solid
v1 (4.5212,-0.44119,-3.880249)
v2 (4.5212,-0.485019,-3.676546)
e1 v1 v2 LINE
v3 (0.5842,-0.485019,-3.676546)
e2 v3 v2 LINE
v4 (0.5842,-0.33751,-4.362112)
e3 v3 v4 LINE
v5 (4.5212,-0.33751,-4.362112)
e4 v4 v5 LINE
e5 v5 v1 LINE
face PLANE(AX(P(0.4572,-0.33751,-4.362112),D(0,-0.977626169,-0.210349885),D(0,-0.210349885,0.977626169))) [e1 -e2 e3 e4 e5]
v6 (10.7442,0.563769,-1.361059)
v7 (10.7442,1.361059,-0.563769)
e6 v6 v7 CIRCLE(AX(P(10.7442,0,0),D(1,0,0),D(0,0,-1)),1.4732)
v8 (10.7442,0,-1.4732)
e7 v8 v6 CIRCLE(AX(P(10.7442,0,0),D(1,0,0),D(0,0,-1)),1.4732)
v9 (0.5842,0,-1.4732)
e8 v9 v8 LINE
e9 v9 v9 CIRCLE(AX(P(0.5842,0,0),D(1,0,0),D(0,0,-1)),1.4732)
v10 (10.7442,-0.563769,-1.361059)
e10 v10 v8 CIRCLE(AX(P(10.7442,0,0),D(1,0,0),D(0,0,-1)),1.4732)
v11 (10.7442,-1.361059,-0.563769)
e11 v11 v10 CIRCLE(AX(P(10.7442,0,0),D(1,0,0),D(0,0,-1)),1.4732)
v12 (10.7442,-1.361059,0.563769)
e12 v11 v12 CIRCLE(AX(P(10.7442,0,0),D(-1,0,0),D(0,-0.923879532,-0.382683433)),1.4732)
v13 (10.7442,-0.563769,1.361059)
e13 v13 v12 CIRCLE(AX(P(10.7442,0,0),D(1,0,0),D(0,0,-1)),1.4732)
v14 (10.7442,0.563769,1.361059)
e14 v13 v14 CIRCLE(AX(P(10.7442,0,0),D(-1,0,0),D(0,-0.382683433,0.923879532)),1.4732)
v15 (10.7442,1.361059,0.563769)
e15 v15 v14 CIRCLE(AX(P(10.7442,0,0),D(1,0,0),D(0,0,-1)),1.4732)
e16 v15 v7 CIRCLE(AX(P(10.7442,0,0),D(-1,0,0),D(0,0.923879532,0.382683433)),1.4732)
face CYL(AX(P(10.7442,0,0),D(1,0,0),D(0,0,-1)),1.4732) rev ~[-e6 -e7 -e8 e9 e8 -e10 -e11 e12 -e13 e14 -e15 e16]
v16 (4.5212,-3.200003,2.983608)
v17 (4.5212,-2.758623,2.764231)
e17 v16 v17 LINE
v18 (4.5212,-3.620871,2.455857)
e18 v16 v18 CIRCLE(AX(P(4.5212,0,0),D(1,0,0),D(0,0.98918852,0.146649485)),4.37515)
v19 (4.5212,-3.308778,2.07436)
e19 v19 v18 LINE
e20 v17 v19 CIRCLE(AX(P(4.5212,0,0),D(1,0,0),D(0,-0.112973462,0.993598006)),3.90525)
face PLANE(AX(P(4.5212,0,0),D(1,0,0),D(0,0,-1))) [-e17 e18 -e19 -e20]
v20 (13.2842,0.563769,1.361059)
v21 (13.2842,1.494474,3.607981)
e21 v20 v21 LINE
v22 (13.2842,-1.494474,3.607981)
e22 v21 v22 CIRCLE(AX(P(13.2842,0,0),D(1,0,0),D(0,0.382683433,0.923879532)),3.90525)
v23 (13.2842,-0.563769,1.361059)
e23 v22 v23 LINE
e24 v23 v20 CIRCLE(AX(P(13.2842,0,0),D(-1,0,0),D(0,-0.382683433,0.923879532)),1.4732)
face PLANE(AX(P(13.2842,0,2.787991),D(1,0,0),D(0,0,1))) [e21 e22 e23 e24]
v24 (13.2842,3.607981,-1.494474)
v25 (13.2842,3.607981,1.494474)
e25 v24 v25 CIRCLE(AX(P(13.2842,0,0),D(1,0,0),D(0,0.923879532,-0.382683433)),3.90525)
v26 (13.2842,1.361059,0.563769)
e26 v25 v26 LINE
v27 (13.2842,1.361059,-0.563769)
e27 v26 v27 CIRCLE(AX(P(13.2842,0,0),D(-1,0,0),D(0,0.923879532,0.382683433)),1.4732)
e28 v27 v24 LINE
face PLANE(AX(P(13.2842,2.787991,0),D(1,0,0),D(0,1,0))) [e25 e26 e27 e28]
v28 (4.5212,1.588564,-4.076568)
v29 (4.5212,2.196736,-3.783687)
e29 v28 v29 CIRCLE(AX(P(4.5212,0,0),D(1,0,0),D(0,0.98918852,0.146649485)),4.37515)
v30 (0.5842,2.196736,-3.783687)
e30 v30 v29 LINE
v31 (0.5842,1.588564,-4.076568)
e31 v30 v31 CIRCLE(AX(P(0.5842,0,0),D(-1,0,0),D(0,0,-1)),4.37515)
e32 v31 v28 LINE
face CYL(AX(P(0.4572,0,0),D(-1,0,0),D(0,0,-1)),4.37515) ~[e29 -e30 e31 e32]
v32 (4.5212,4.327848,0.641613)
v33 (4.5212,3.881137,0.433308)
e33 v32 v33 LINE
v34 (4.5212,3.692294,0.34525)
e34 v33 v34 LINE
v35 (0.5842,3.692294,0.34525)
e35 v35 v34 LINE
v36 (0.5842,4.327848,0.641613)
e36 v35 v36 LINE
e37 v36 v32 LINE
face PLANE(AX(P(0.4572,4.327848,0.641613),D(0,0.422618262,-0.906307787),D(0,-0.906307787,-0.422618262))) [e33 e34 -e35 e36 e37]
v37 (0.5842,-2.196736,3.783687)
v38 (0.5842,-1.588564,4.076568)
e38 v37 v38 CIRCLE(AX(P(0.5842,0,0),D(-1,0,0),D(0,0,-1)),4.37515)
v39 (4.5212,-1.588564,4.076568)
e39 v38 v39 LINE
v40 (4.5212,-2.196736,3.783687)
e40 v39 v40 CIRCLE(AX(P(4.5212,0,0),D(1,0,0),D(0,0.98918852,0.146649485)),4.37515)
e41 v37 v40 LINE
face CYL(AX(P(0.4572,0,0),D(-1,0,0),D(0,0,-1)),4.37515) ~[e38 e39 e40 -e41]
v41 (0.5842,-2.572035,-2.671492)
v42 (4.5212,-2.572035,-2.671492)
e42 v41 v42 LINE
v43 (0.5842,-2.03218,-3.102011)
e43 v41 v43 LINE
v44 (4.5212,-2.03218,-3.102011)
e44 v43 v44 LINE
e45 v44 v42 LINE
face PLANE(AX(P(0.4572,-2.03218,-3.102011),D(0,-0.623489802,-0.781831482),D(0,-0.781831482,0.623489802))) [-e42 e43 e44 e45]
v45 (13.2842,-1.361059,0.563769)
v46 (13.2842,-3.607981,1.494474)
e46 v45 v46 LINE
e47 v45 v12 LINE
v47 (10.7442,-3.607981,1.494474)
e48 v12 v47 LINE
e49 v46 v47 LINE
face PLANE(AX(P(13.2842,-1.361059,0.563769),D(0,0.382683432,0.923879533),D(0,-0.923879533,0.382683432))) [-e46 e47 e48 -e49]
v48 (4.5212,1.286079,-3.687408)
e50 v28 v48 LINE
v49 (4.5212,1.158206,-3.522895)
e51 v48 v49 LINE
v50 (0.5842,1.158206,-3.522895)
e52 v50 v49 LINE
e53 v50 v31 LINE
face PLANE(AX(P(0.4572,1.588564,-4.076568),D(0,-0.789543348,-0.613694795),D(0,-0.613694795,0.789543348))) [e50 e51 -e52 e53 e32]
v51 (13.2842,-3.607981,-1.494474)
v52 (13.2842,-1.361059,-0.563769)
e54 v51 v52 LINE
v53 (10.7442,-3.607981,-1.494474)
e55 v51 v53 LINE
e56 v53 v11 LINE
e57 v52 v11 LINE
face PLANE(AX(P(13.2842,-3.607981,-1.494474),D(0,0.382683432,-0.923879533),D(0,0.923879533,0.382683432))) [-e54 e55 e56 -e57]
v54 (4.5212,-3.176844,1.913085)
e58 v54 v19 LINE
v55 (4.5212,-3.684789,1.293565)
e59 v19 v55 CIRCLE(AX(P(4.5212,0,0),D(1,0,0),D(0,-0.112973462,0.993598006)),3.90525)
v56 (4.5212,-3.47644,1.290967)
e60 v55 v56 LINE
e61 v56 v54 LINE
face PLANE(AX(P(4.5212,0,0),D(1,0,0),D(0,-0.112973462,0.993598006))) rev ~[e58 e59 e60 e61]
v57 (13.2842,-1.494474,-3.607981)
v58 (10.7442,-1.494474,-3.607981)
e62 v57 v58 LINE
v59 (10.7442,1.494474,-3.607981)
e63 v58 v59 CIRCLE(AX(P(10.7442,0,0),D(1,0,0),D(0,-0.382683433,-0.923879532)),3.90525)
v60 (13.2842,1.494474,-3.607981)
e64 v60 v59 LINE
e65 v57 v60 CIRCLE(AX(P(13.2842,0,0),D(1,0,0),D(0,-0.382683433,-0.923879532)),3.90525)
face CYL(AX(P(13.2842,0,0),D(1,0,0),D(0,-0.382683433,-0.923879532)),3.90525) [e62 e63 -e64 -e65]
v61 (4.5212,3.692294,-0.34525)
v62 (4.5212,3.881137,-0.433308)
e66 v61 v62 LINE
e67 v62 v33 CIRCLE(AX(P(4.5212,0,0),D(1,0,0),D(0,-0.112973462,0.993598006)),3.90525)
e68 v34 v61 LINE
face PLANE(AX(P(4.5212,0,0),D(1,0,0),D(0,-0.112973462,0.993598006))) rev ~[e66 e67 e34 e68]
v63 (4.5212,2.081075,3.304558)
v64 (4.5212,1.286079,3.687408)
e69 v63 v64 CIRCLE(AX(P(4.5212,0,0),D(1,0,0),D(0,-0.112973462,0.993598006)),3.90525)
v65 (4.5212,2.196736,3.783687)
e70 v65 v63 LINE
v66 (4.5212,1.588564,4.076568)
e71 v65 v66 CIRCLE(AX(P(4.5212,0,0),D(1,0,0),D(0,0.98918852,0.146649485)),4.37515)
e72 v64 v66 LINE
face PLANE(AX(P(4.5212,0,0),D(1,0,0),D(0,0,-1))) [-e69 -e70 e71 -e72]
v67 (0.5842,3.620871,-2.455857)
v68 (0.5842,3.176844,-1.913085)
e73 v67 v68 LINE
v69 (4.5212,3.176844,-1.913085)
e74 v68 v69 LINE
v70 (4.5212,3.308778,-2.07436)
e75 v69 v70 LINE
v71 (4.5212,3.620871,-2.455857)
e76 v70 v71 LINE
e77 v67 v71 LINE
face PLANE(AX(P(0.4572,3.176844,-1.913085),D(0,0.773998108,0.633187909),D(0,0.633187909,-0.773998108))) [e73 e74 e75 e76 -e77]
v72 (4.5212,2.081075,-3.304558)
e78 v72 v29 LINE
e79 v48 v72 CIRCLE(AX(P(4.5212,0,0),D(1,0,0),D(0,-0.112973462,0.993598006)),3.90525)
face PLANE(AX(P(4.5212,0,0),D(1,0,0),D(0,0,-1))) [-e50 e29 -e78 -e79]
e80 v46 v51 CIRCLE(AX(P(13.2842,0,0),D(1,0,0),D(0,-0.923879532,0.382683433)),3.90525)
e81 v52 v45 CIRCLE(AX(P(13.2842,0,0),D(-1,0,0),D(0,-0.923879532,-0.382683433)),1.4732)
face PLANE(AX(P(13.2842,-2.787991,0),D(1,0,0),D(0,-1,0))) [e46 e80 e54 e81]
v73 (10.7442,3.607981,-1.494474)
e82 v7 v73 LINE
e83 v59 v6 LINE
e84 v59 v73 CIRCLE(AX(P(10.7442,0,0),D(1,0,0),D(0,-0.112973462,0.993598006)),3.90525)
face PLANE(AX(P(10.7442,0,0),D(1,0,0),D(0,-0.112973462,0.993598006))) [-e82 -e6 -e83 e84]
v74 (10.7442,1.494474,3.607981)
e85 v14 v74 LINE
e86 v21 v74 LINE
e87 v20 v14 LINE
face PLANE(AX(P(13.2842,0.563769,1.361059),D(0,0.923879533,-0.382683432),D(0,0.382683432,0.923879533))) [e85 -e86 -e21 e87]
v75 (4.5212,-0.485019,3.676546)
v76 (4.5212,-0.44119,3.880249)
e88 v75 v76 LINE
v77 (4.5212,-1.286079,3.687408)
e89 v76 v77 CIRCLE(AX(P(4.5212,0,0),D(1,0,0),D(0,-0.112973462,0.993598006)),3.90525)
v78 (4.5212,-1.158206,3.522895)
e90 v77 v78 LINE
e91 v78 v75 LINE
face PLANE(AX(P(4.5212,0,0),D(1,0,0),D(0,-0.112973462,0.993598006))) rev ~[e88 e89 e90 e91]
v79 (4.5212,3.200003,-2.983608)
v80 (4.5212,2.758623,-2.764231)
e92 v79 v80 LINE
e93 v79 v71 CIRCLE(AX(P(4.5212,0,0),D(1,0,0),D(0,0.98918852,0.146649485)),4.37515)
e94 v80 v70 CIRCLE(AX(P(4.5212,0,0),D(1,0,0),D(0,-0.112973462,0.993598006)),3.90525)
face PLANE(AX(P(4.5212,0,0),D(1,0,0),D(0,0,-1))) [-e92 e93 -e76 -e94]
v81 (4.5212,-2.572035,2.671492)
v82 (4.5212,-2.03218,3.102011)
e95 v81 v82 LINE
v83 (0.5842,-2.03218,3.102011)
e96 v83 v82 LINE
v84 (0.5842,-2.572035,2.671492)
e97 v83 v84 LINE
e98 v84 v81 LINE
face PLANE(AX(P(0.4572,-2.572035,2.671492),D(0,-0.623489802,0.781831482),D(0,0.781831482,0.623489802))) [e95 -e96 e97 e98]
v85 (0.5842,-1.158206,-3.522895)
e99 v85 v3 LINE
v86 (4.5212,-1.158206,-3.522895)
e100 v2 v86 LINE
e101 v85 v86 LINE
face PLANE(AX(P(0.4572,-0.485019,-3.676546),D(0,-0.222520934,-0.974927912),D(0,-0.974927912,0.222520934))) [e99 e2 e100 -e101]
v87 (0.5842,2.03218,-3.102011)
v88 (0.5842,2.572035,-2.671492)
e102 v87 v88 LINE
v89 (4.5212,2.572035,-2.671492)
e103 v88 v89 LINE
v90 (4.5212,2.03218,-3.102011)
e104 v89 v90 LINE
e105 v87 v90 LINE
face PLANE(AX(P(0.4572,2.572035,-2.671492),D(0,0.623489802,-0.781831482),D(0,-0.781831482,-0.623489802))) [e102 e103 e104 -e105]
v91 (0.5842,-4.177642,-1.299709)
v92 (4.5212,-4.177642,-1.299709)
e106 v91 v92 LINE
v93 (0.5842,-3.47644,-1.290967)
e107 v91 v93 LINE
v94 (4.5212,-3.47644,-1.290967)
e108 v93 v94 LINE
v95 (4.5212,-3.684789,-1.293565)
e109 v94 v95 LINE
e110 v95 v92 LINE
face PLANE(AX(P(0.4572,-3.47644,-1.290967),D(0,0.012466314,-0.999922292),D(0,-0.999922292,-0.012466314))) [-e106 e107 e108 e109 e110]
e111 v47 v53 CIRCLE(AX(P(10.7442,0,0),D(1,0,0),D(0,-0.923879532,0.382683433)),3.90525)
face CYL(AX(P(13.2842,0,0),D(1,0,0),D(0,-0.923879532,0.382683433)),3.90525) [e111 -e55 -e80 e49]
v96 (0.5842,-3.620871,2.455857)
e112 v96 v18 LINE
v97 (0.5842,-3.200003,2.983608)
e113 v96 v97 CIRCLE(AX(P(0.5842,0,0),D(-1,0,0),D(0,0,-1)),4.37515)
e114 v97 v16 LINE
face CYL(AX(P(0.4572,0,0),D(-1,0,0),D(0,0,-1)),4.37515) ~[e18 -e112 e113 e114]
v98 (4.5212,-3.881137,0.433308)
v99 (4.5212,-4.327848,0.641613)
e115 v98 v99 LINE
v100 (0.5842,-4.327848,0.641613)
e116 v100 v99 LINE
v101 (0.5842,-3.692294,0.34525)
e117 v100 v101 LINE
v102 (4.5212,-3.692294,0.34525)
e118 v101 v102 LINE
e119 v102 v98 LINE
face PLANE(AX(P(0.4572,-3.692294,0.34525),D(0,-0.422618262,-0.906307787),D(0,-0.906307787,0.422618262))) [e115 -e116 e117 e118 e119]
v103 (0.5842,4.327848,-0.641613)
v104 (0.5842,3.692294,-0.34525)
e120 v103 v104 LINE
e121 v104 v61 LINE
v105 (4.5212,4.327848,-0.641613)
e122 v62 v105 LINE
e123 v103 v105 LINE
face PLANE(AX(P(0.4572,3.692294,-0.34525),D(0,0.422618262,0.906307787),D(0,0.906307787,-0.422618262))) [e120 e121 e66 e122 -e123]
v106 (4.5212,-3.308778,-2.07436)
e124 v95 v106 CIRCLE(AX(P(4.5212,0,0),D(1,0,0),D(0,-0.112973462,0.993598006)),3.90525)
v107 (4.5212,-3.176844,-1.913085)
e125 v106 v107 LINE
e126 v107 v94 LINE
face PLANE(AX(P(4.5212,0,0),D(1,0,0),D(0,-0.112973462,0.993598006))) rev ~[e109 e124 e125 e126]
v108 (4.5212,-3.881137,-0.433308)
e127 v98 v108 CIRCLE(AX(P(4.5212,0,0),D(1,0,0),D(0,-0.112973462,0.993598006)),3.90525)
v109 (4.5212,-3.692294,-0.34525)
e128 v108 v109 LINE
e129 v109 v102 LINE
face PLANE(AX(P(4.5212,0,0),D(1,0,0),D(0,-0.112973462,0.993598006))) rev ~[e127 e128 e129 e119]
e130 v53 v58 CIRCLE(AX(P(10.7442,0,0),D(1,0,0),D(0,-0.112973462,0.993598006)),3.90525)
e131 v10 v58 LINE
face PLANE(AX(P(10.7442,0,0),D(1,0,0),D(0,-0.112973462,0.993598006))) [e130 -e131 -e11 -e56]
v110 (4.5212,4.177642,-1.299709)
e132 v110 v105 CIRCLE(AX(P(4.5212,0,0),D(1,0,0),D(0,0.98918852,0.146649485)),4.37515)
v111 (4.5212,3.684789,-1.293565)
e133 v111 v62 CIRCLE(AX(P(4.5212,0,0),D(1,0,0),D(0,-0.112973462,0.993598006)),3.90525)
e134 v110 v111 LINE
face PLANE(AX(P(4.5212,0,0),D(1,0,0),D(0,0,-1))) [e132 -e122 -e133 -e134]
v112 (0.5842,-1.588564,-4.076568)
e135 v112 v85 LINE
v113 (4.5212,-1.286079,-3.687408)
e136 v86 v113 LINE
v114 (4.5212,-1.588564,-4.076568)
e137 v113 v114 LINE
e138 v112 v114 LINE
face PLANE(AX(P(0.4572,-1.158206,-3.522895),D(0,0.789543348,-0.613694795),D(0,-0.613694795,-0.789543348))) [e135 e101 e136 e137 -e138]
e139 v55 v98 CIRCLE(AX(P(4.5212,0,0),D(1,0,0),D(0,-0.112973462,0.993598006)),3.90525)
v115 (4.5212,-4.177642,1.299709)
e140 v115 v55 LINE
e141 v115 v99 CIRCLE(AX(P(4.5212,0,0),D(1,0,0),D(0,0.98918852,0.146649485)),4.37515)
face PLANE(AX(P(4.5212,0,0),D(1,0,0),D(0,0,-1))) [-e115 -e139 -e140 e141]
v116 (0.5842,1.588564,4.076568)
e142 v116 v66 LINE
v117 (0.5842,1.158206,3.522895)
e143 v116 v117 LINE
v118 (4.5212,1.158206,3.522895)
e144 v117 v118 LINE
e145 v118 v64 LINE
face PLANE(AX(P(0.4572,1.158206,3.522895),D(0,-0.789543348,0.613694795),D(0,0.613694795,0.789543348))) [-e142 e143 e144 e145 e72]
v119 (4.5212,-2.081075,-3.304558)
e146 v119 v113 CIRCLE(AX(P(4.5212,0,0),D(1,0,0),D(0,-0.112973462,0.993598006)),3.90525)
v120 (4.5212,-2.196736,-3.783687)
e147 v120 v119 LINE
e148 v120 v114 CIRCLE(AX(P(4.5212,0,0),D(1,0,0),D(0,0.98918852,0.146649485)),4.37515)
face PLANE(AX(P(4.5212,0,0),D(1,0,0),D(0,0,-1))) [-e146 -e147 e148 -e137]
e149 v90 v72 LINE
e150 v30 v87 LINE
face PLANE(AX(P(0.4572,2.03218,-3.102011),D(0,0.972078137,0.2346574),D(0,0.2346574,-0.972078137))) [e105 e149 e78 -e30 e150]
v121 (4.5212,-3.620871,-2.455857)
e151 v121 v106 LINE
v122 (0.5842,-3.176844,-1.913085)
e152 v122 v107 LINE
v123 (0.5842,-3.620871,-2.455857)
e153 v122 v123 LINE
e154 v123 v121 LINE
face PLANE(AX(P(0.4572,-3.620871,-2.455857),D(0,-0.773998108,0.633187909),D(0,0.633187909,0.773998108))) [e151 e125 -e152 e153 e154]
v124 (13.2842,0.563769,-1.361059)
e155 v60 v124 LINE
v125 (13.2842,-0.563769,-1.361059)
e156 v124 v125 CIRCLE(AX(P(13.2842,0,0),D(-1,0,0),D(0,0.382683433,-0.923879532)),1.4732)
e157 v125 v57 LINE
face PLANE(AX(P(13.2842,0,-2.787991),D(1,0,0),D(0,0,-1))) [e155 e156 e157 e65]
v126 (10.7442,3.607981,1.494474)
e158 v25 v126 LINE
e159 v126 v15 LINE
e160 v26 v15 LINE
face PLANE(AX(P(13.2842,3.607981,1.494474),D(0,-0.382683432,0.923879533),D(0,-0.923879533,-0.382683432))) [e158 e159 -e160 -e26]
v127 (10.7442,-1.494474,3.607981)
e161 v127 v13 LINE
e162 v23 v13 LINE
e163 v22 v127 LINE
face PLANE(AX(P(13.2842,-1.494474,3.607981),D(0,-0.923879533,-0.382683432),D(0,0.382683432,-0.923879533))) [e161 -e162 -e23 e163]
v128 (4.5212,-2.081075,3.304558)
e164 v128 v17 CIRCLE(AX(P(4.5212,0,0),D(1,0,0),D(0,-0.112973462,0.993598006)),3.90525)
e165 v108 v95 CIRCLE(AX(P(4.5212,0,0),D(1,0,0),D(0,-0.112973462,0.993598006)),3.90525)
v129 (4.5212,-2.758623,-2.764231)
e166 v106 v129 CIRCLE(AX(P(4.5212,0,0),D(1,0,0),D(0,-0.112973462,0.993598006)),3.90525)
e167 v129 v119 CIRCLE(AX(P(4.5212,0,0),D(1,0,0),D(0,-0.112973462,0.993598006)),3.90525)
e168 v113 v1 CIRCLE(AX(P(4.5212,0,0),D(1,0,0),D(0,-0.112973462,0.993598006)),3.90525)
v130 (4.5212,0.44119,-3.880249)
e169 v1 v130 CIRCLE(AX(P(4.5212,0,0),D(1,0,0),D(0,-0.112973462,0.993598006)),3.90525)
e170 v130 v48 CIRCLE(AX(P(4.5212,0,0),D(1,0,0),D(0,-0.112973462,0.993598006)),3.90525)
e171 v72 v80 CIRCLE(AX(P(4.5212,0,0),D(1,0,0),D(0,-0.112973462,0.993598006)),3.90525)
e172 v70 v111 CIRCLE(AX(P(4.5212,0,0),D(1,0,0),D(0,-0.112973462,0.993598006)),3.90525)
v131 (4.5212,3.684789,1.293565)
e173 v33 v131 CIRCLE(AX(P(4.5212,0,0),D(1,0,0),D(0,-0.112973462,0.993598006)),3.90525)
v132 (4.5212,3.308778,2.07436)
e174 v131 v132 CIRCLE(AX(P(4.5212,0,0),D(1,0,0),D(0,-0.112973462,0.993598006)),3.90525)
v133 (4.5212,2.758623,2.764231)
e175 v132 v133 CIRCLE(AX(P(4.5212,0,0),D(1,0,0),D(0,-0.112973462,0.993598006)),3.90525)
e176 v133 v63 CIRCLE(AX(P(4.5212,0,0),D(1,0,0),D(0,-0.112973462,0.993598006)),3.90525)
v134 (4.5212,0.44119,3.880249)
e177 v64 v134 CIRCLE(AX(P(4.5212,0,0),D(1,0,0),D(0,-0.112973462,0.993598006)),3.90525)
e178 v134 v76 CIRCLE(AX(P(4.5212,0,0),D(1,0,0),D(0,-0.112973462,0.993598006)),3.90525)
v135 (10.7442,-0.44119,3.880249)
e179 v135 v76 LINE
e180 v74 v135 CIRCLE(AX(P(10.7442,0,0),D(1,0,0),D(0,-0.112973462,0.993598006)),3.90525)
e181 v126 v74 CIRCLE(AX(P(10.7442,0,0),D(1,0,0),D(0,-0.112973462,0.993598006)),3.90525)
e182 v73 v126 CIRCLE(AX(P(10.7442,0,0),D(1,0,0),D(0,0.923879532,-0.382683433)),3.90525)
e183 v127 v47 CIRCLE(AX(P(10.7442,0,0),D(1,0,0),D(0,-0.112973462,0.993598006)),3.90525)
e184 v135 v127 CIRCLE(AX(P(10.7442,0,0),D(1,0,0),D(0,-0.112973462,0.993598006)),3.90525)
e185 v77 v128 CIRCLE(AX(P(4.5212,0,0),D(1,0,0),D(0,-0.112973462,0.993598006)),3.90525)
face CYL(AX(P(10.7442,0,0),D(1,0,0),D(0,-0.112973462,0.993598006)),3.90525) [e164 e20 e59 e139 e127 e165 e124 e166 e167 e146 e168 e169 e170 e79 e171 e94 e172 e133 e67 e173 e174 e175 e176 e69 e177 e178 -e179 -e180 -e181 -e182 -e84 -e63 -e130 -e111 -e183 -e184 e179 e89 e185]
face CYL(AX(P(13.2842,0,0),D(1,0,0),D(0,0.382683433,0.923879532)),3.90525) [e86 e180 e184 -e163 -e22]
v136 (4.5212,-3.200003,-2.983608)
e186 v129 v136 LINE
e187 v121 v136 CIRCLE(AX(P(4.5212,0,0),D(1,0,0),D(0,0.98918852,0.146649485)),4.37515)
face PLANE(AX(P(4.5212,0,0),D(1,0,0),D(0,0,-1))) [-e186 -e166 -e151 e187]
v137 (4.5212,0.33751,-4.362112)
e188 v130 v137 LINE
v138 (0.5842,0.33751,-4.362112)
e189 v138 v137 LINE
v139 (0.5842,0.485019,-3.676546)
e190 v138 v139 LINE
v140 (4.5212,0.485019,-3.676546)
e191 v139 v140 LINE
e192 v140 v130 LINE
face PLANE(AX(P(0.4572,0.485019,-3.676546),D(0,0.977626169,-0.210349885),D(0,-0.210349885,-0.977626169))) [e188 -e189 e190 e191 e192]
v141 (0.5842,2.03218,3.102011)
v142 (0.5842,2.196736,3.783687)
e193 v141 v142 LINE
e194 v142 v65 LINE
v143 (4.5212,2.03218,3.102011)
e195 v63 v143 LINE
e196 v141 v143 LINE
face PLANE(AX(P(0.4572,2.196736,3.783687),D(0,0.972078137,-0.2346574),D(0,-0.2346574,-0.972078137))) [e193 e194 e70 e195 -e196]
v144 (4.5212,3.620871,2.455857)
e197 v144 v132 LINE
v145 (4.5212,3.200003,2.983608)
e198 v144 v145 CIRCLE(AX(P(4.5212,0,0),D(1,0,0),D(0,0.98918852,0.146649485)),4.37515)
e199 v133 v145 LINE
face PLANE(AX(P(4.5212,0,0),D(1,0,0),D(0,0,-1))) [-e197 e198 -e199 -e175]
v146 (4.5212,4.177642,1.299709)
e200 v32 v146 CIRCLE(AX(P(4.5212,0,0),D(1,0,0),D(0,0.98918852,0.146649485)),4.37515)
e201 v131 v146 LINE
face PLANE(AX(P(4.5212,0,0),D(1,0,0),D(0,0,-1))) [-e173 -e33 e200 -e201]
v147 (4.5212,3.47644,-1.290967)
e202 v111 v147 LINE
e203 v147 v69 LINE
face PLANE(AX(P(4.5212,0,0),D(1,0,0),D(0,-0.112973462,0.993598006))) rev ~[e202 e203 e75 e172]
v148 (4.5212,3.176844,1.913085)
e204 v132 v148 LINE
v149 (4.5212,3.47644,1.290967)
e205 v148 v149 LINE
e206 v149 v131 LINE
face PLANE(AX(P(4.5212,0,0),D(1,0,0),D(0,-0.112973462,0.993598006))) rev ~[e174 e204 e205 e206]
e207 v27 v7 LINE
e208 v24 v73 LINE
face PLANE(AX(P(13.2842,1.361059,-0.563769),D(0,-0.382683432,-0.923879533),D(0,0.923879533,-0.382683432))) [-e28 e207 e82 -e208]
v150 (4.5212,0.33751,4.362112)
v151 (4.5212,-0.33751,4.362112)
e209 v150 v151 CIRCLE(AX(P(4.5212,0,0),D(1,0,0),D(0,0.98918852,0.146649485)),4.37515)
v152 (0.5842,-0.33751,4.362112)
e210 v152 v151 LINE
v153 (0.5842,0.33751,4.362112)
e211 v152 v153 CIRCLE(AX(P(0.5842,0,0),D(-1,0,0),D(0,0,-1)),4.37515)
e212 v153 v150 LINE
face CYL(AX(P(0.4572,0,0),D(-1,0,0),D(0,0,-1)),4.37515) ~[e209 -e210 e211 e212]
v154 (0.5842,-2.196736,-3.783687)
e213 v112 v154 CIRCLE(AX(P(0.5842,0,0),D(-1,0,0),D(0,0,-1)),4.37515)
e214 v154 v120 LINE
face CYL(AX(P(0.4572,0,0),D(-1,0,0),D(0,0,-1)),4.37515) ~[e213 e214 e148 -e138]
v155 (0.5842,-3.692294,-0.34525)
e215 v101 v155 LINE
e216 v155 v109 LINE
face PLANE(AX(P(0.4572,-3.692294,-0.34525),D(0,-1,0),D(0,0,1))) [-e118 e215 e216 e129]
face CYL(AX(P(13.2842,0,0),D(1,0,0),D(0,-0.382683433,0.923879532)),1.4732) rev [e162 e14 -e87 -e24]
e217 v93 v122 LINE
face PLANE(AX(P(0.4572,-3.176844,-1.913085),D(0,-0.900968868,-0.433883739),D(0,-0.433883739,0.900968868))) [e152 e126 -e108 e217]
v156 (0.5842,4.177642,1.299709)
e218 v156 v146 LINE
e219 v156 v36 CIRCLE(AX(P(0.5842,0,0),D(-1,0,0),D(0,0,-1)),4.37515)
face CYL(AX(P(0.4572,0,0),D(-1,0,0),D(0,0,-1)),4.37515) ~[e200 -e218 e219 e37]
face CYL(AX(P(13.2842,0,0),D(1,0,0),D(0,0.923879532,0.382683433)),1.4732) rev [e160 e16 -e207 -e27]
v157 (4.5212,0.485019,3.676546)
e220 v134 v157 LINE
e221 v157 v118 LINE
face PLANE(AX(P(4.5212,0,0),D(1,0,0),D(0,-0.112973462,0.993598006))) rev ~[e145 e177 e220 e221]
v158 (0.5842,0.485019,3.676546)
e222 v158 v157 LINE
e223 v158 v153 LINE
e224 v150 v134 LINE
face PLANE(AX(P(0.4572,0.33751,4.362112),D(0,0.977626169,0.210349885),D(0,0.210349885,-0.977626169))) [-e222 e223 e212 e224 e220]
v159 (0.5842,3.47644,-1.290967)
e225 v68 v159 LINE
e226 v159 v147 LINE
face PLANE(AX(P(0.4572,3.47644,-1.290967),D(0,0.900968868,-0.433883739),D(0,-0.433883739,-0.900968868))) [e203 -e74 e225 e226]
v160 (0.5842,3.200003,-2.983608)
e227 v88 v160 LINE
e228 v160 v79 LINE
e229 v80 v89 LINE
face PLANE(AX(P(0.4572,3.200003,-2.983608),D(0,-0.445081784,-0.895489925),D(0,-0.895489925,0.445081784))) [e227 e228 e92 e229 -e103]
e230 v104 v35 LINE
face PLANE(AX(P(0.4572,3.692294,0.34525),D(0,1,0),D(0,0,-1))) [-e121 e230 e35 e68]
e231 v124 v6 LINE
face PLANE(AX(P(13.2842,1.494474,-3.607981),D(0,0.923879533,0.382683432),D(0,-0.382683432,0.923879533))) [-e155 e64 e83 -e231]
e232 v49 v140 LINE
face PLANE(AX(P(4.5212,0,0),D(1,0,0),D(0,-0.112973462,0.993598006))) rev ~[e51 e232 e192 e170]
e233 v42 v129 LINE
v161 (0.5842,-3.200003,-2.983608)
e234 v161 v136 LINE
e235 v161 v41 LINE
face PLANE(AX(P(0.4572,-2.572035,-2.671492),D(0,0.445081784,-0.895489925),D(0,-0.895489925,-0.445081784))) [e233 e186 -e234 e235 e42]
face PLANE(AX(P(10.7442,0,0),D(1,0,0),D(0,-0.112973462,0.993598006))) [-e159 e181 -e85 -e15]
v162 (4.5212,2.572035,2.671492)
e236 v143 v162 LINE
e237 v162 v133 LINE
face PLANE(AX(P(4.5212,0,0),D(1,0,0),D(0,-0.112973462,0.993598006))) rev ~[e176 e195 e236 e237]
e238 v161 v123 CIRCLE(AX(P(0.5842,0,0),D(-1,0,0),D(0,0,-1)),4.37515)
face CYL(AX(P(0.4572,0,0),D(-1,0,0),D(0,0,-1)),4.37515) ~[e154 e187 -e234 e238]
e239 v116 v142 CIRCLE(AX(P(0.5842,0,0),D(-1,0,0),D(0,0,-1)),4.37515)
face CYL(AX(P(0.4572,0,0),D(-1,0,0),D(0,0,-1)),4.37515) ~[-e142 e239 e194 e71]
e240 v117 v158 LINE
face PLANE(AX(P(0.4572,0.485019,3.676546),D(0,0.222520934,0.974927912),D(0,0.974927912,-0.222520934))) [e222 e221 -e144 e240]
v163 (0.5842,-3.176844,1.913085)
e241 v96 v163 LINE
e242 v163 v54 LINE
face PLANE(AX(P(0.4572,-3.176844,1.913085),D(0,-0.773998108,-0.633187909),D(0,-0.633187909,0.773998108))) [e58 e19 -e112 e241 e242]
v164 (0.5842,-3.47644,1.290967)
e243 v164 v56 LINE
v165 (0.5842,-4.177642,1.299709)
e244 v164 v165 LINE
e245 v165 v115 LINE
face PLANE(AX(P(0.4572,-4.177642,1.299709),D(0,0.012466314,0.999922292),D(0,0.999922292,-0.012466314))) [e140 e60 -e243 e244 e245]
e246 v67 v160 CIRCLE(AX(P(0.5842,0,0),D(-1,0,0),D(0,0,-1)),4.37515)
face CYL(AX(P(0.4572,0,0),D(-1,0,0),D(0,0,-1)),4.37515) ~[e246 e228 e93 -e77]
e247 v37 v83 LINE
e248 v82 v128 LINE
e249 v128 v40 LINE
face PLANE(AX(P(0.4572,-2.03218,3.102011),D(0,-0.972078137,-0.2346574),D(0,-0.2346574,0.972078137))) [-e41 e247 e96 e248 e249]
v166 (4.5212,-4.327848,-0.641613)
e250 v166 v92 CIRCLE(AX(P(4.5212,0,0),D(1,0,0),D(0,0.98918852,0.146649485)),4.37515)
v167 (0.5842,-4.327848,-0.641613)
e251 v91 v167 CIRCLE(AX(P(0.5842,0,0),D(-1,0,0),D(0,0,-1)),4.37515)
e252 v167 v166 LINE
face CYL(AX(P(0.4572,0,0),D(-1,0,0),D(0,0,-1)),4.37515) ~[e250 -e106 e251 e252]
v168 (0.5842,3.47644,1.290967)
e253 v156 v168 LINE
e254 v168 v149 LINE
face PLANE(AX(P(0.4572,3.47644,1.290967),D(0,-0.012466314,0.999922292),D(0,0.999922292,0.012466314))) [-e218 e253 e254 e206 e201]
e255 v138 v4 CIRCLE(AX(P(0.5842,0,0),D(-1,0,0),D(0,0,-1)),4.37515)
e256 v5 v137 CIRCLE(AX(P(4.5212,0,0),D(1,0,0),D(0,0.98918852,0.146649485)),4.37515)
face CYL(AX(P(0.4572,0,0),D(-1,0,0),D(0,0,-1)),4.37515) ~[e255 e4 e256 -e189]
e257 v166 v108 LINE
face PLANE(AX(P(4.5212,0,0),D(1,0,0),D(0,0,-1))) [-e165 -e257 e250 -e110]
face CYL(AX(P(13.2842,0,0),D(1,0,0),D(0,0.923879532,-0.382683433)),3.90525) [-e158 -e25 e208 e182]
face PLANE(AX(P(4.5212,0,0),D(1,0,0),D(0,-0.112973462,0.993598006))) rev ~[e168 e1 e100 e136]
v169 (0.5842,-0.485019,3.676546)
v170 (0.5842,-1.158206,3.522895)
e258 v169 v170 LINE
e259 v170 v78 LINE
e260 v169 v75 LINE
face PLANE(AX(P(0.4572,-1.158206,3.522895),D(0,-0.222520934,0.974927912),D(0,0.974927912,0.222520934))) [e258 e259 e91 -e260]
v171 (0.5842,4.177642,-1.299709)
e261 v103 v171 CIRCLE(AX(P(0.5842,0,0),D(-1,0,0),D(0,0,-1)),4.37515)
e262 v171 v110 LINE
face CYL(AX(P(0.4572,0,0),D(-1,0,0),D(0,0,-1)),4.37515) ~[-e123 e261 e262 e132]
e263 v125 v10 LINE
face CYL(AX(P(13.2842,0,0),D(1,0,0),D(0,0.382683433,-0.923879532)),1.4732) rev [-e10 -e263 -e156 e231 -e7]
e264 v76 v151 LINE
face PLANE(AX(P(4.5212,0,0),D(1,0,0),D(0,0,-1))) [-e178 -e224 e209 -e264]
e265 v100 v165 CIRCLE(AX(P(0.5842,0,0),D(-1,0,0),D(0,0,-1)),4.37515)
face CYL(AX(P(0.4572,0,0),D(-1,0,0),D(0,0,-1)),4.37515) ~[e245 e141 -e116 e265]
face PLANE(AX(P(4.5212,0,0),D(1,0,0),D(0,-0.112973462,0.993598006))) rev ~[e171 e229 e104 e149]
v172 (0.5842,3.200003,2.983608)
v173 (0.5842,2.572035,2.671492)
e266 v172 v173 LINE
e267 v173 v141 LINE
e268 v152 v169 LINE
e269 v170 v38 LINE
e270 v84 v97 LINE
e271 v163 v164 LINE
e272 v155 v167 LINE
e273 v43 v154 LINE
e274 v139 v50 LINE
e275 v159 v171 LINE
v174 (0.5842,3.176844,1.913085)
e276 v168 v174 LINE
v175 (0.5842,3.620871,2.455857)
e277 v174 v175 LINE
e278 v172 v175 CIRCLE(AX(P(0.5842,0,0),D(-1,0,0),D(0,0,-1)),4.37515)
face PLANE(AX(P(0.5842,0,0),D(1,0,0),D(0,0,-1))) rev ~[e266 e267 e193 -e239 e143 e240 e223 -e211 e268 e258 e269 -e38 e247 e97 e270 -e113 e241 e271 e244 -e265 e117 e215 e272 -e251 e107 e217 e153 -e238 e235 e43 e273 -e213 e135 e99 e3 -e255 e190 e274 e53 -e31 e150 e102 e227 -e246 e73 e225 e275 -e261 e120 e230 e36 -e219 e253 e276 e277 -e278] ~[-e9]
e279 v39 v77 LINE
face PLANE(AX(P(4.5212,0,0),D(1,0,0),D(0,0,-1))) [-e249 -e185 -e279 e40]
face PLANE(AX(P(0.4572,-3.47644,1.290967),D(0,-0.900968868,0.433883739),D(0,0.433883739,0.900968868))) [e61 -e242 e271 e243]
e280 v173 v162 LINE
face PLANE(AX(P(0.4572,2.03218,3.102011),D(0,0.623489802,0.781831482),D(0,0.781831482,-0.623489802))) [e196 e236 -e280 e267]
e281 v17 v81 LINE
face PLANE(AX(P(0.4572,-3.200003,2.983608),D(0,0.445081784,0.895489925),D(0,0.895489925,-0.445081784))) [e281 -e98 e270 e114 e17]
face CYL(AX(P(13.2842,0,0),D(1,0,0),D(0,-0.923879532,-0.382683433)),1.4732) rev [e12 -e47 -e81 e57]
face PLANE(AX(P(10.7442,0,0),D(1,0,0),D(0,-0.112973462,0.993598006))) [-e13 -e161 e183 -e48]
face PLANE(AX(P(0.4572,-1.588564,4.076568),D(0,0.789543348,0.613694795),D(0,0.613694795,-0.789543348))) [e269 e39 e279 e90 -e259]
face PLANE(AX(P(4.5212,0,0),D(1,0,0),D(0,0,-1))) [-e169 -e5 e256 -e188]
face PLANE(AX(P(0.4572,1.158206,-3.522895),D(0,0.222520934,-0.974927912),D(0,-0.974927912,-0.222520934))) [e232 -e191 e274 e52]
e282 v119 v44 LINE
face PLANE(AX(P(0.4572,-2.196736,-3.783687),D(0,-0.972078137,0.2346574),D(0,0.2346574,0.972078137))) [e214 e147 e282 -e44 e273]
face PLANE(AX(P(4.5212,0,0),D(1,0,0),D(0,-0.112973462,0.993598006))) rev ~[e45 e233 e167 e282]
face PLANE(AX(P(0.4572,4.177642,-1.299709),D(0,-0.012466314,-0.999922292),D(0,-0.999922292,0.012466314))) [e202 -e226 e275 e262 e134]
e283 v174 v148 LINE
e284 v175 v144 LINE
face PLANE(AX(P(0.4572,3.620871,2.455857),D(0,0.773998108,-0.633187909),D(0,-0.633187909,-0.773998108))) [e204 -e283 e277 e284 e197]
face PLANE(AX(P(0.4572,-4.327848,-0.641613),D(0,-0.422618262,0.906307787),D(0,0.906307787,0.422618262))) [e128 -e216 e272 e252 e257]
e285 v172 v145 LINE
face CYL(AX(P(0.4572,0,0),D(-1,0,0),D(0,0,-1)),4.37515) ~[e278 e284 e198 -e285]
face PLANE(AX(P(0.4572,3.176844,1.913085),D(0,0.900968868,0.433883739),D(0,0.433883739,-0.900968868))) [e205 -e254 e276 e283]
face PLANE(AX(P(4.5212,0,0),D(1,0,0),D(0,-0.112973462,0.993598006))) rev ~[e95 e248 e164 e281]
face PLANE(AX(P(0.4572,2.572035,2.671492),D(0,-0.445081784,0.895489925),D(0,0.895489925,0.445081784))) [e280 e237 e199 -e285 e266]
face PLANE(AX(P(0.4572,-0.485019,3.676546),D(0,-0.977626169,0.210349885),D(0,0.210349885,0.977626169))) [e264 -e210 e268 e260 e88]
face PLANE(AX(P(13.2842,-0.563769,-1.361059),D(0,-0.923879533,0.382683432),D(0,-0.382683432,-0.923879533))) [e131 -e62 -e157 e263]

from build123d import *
from build123d.topology import SkipClean

# Parameters (mm, degrees)
SKETCH4_R           = 4.5339
SKETCH4_R_2         = 4.37515
CUT_EXTRUDE2_DEPTH  = 4.064
CUT_EXTRUDE1_DEPTH  = 4.064
CIRPATTERN1_COUNT   = 14
SKETCH6_R           = 1.5875
CUT_EXTRUDE3_DEPTH  = 12.02520933
CUT_EXTRUDE4_DEPTH  = 1.016
SKETCH9_R           = 6.985
CUT_EXTRUDE5_DEPTH  = 1.0414
SKETCH10_R          = 6.985
CUT_EXTRUDE6_DEPTH  = 6.1468
SKETCH12_R          = 1.5875
SKETCH12_R_2        = 1.4732
BOSS_EXTRUDE1_DEPTH = 3.937
BOSS_EXTRUDE2_START = 6.223
SKETCH13_R          = 3.90525
SKETCH13_R_2        = 1.4732
BOSS_EXTRUDE2_DEPTH = 6.223
BOSS_EXTRUDE3_START = 2.54
BOSS_EXTRUDE3_DEPTH = 2.54
CIRPATTERN4_COUNT   = 4


with BuildPart() as part:
    # Sketch1 → Revolve1 (revolve)
    with BuildSketch(Plane.XY, mode=Mode.PRIVATE) as revolve1_sk:
        with BuildLine():
            Line((-5.5626, 1.5875), (5.5626, 1.5875))
            Line((5.5626, 1.5875), (5.5626, 6.731))
            Line((5.5626, 6.731), (5.0419, 6.731))
            ThreePointArc((5.0419, 6.731), (4.654552953, 5.958878742), (4.5212, 5.1054))
            Line((4.5212, 5.1054), (4.5212, 4.5339))
            Line((4.5212, 4.5339), (0.4572, 4.5339))
            Line((0.4572, 4.5339), (0.4572, 5.6769))
            Line((0.4572, 5.6769), (-0.5969, 6.731))
            Line((-0.5969, 6.731), (-5.5626, 6.731))
            Line((-5.5626, 6.731), (-5.5626, 1.5875))
        make_face()
    revolve(revolve1_sk.sketch.rotate(Axis((-5.5626, 0, 0), (1, 0, 0)), 90), axis=Axis((-5.5626, 0, 0), (1, 0, 0)))

    # Sketch4 → Cut-Extrude2 (cut)
    with BuildSketch(Plane(origin=(0.4572, 0, 0), x_dir=(0, 0, -1), z_dir=(1, 0, 0))):
        Circle(SKETCH4_R)
        Circle(SKETCH4_R_2, mode=Mode.SUBTRACT)
    extrude(amount=CUT_EXTRUDE2_DEPTH, mode=Mode.SUBTRACT)

    # Sketch3 → Cut-Extrude1 (cut)
    with BuildSketch(Plane(origin=(0.4572, 0, 0), x_dir=(0, 0, -1), z_dir=(1, 0, 0))):
        with BuildLine():
            Line((-0.641613493, 4.327848154), (-0.345249615, 3.692293767))
            Line((-0.345249615, 3.692293767), (0.345249615, 3.692293767))
            Line((0.345249615, 3.692293767), (0.641613493, 4.327848154))
            ThreePointArc((0.641613493, 4.327848154), (0, 4.37515), (-0.641613493, 4.327848154))
        make_face()
    cut_extrude1 = extrude(amount=CUT_EXTRUDE1_DEPTH, mode=Mode.SUBTRACT)

    # CirPattern1: Cut-Extrude1 ×14 about axis
    cirpattern1_axis = Axis((0, 0, 0), (1, 0, 0))
    for i in range(1, CIRPATTERN1_COUNT):
        add(cut_extrude1.rotate(cirpattern1_axis, i * 360 / CIRPATTERN1_COUNT), mode=Mode.SUBTRACT)

    # Sketch6 → Cut-Extrude3 (cut, through all)
    with BuildSketch(Plane(origin=(0, 0, 0), x_dir=(1, 0, 0), z_dir=(0, 1, 0))):
        with Locations(Location((-2.5527, 0, 0), (0, 0, 90))):
            Circle(SKETCH6_R)
    extrude(amount=CUT_EXTRUDE3_DEPTH, mode=Mode.SUBTRACT)

    # Sketch9 → Cut-Extrude5 (cut)
    with BuildSketch(Plane(origin=(5.5626, 0, 0), x_dir=(0, 0, -1), z_dir=(1, 0, 0))):
        Circle(SKETCH9_R)
    extrude(amount=-CUT_EXTRUDE5_DEPTH, mode=Mode.SUBTRACT)


with BuildPart() as body_2:
    # Sketch7 → Revolve2 (revolve)
    with BuildSketch(Plane.XY, mode=Mode.PRIVATE) as revolve2_sk:
        Polygon((-3.7211, 6.731), (-2.5527, 6.731), (-2.5527, 1.9685), (-3.7211, 1.9685), (-3.9751, 2.2225), (-3.9751, 6.477), align=None)
    revolve(revolve2_sk.sketch.rotate(Axis((-2.5527, 1.9685, 0), (0, 1, 0)), 270), axis=Axis((-2.5527, 1.9685, 0), (0, 1, 0)))

    # Sketch8 → Cut-Extrude4 (cut)
    with BuildSketch(Plane(origin=(0, 6.731, 0), x_dir=(1, 0, 0), z_dir=(0, 1, 0))):
        Polygon((-2.5527, 0.821223023), (-3.2639, 0.410611511), (-3.2639, -0.410611511), (-2.5527, -0.821223023), (-1.8415, -0.410611511), (-1.8415, 0.410611511), align=None)
    extrude(amount=-CUT_EXTRUDE4_DEPTH, mode=Mode.SUBTRACT)


with BuildPart() as cut_extrude6_tool:
    # Sketch10 → Cut-Extrude6 (new body)
    with BuildSketch(Plane.ZY.offset(5.5626)):
        Circle(SKETCH10_R)
    extrude(amount=-CUT_EXTRUDE6_DEPTH)


with BuildPart() as part_1:
    add(part.part)

    # Cut-Extrude6: cut by cut_extrude6_tool
    add(cut_extrude6_tool.part, mode=Mode.SUBTRACT)

    # Sketch12 → Boss-Extrude1 (add)
    with BuildSketch(Plane(origin=(4.5212, 0, 0), x_dir=(0, 0, -1), z_dir=(1, 0, 0))):
        Circle(SKETCH12_R)
        Circle(SKETCH12_R_2, mode=Mode.SUBTRACT)
    extrude(amount=-BOSS_EXTRUDE1_DEPTH)

    # Sketch13 → Boss-Extrude2 (add)
    with BuildSketch(Plane(origin=(4.5212, 0, 0), x_dir=(0, 0, -1), z_dir=(1, 0, 0)).offset(BOSS_EXTRUDE2_START)):
        with Locations(Location((0, 0, 0), (0, 0, 186.486751227))):
            Circle(SKETCH13_R)
        Circle(SKETCH13_R_2, mode=Mode.SUBTRACT)
    extrude(amount=-BOSS_EXTRUDE2_DEPTH)

    # Sketch14 → Boss-Extrude3 (add)
    with SkipClean():  # the faces are left unmerged after this step: merging them gives an invalid solid
        with BuildSketch(Plane(origin=(10.7442, 0, 0), x_dir=(0, 0, -1), z_dir=(1, 0, 0)).offset(BOSS_EXTRUDE3_START)):
            with BuildLine():
                Line((1.361059327, -0.563769233), (3.607980544, -1.494474474))
                ThreePointArc((3.607980544, -1.494474474), (3.90525, 0), (3.607980544, 1.494474474))
                Line((3.607980544, 1.494474474), (1.361059327, 0.563769233))
                ThreePointArc((1.361059327, 0.563769233), (1.4732, 0), (1.361059327, -0.563769233))
            make_face()
        boss_extrude3 = extrude(amount=-BOSS_EXTRUDE3_DEPTH)

    # CirPattern4: Boss-Extrude3 ×4 about axis
    with SkipClean():  # the faces are left unmerged after this step: merging them gives an invalid solid
        cirpattern4_axis = Axis((-3.905928061, 0, 0), (1, 0, 0))
        for i in range(1, CIRPATTERN4_COUNT):
            add(boss_extrude3.rotate(cirpattern4_axis, i * 360 / CIRPATTERN4_COUNT))


with BuildPart() as body_2_1:
    add(body_2.part)

    # Cut-Extrude6: cut by cut_extrude6_tool
    add(cut_extrude6_tool.part, mode=Mode.SUBTRACT)


solid = part_1.part
